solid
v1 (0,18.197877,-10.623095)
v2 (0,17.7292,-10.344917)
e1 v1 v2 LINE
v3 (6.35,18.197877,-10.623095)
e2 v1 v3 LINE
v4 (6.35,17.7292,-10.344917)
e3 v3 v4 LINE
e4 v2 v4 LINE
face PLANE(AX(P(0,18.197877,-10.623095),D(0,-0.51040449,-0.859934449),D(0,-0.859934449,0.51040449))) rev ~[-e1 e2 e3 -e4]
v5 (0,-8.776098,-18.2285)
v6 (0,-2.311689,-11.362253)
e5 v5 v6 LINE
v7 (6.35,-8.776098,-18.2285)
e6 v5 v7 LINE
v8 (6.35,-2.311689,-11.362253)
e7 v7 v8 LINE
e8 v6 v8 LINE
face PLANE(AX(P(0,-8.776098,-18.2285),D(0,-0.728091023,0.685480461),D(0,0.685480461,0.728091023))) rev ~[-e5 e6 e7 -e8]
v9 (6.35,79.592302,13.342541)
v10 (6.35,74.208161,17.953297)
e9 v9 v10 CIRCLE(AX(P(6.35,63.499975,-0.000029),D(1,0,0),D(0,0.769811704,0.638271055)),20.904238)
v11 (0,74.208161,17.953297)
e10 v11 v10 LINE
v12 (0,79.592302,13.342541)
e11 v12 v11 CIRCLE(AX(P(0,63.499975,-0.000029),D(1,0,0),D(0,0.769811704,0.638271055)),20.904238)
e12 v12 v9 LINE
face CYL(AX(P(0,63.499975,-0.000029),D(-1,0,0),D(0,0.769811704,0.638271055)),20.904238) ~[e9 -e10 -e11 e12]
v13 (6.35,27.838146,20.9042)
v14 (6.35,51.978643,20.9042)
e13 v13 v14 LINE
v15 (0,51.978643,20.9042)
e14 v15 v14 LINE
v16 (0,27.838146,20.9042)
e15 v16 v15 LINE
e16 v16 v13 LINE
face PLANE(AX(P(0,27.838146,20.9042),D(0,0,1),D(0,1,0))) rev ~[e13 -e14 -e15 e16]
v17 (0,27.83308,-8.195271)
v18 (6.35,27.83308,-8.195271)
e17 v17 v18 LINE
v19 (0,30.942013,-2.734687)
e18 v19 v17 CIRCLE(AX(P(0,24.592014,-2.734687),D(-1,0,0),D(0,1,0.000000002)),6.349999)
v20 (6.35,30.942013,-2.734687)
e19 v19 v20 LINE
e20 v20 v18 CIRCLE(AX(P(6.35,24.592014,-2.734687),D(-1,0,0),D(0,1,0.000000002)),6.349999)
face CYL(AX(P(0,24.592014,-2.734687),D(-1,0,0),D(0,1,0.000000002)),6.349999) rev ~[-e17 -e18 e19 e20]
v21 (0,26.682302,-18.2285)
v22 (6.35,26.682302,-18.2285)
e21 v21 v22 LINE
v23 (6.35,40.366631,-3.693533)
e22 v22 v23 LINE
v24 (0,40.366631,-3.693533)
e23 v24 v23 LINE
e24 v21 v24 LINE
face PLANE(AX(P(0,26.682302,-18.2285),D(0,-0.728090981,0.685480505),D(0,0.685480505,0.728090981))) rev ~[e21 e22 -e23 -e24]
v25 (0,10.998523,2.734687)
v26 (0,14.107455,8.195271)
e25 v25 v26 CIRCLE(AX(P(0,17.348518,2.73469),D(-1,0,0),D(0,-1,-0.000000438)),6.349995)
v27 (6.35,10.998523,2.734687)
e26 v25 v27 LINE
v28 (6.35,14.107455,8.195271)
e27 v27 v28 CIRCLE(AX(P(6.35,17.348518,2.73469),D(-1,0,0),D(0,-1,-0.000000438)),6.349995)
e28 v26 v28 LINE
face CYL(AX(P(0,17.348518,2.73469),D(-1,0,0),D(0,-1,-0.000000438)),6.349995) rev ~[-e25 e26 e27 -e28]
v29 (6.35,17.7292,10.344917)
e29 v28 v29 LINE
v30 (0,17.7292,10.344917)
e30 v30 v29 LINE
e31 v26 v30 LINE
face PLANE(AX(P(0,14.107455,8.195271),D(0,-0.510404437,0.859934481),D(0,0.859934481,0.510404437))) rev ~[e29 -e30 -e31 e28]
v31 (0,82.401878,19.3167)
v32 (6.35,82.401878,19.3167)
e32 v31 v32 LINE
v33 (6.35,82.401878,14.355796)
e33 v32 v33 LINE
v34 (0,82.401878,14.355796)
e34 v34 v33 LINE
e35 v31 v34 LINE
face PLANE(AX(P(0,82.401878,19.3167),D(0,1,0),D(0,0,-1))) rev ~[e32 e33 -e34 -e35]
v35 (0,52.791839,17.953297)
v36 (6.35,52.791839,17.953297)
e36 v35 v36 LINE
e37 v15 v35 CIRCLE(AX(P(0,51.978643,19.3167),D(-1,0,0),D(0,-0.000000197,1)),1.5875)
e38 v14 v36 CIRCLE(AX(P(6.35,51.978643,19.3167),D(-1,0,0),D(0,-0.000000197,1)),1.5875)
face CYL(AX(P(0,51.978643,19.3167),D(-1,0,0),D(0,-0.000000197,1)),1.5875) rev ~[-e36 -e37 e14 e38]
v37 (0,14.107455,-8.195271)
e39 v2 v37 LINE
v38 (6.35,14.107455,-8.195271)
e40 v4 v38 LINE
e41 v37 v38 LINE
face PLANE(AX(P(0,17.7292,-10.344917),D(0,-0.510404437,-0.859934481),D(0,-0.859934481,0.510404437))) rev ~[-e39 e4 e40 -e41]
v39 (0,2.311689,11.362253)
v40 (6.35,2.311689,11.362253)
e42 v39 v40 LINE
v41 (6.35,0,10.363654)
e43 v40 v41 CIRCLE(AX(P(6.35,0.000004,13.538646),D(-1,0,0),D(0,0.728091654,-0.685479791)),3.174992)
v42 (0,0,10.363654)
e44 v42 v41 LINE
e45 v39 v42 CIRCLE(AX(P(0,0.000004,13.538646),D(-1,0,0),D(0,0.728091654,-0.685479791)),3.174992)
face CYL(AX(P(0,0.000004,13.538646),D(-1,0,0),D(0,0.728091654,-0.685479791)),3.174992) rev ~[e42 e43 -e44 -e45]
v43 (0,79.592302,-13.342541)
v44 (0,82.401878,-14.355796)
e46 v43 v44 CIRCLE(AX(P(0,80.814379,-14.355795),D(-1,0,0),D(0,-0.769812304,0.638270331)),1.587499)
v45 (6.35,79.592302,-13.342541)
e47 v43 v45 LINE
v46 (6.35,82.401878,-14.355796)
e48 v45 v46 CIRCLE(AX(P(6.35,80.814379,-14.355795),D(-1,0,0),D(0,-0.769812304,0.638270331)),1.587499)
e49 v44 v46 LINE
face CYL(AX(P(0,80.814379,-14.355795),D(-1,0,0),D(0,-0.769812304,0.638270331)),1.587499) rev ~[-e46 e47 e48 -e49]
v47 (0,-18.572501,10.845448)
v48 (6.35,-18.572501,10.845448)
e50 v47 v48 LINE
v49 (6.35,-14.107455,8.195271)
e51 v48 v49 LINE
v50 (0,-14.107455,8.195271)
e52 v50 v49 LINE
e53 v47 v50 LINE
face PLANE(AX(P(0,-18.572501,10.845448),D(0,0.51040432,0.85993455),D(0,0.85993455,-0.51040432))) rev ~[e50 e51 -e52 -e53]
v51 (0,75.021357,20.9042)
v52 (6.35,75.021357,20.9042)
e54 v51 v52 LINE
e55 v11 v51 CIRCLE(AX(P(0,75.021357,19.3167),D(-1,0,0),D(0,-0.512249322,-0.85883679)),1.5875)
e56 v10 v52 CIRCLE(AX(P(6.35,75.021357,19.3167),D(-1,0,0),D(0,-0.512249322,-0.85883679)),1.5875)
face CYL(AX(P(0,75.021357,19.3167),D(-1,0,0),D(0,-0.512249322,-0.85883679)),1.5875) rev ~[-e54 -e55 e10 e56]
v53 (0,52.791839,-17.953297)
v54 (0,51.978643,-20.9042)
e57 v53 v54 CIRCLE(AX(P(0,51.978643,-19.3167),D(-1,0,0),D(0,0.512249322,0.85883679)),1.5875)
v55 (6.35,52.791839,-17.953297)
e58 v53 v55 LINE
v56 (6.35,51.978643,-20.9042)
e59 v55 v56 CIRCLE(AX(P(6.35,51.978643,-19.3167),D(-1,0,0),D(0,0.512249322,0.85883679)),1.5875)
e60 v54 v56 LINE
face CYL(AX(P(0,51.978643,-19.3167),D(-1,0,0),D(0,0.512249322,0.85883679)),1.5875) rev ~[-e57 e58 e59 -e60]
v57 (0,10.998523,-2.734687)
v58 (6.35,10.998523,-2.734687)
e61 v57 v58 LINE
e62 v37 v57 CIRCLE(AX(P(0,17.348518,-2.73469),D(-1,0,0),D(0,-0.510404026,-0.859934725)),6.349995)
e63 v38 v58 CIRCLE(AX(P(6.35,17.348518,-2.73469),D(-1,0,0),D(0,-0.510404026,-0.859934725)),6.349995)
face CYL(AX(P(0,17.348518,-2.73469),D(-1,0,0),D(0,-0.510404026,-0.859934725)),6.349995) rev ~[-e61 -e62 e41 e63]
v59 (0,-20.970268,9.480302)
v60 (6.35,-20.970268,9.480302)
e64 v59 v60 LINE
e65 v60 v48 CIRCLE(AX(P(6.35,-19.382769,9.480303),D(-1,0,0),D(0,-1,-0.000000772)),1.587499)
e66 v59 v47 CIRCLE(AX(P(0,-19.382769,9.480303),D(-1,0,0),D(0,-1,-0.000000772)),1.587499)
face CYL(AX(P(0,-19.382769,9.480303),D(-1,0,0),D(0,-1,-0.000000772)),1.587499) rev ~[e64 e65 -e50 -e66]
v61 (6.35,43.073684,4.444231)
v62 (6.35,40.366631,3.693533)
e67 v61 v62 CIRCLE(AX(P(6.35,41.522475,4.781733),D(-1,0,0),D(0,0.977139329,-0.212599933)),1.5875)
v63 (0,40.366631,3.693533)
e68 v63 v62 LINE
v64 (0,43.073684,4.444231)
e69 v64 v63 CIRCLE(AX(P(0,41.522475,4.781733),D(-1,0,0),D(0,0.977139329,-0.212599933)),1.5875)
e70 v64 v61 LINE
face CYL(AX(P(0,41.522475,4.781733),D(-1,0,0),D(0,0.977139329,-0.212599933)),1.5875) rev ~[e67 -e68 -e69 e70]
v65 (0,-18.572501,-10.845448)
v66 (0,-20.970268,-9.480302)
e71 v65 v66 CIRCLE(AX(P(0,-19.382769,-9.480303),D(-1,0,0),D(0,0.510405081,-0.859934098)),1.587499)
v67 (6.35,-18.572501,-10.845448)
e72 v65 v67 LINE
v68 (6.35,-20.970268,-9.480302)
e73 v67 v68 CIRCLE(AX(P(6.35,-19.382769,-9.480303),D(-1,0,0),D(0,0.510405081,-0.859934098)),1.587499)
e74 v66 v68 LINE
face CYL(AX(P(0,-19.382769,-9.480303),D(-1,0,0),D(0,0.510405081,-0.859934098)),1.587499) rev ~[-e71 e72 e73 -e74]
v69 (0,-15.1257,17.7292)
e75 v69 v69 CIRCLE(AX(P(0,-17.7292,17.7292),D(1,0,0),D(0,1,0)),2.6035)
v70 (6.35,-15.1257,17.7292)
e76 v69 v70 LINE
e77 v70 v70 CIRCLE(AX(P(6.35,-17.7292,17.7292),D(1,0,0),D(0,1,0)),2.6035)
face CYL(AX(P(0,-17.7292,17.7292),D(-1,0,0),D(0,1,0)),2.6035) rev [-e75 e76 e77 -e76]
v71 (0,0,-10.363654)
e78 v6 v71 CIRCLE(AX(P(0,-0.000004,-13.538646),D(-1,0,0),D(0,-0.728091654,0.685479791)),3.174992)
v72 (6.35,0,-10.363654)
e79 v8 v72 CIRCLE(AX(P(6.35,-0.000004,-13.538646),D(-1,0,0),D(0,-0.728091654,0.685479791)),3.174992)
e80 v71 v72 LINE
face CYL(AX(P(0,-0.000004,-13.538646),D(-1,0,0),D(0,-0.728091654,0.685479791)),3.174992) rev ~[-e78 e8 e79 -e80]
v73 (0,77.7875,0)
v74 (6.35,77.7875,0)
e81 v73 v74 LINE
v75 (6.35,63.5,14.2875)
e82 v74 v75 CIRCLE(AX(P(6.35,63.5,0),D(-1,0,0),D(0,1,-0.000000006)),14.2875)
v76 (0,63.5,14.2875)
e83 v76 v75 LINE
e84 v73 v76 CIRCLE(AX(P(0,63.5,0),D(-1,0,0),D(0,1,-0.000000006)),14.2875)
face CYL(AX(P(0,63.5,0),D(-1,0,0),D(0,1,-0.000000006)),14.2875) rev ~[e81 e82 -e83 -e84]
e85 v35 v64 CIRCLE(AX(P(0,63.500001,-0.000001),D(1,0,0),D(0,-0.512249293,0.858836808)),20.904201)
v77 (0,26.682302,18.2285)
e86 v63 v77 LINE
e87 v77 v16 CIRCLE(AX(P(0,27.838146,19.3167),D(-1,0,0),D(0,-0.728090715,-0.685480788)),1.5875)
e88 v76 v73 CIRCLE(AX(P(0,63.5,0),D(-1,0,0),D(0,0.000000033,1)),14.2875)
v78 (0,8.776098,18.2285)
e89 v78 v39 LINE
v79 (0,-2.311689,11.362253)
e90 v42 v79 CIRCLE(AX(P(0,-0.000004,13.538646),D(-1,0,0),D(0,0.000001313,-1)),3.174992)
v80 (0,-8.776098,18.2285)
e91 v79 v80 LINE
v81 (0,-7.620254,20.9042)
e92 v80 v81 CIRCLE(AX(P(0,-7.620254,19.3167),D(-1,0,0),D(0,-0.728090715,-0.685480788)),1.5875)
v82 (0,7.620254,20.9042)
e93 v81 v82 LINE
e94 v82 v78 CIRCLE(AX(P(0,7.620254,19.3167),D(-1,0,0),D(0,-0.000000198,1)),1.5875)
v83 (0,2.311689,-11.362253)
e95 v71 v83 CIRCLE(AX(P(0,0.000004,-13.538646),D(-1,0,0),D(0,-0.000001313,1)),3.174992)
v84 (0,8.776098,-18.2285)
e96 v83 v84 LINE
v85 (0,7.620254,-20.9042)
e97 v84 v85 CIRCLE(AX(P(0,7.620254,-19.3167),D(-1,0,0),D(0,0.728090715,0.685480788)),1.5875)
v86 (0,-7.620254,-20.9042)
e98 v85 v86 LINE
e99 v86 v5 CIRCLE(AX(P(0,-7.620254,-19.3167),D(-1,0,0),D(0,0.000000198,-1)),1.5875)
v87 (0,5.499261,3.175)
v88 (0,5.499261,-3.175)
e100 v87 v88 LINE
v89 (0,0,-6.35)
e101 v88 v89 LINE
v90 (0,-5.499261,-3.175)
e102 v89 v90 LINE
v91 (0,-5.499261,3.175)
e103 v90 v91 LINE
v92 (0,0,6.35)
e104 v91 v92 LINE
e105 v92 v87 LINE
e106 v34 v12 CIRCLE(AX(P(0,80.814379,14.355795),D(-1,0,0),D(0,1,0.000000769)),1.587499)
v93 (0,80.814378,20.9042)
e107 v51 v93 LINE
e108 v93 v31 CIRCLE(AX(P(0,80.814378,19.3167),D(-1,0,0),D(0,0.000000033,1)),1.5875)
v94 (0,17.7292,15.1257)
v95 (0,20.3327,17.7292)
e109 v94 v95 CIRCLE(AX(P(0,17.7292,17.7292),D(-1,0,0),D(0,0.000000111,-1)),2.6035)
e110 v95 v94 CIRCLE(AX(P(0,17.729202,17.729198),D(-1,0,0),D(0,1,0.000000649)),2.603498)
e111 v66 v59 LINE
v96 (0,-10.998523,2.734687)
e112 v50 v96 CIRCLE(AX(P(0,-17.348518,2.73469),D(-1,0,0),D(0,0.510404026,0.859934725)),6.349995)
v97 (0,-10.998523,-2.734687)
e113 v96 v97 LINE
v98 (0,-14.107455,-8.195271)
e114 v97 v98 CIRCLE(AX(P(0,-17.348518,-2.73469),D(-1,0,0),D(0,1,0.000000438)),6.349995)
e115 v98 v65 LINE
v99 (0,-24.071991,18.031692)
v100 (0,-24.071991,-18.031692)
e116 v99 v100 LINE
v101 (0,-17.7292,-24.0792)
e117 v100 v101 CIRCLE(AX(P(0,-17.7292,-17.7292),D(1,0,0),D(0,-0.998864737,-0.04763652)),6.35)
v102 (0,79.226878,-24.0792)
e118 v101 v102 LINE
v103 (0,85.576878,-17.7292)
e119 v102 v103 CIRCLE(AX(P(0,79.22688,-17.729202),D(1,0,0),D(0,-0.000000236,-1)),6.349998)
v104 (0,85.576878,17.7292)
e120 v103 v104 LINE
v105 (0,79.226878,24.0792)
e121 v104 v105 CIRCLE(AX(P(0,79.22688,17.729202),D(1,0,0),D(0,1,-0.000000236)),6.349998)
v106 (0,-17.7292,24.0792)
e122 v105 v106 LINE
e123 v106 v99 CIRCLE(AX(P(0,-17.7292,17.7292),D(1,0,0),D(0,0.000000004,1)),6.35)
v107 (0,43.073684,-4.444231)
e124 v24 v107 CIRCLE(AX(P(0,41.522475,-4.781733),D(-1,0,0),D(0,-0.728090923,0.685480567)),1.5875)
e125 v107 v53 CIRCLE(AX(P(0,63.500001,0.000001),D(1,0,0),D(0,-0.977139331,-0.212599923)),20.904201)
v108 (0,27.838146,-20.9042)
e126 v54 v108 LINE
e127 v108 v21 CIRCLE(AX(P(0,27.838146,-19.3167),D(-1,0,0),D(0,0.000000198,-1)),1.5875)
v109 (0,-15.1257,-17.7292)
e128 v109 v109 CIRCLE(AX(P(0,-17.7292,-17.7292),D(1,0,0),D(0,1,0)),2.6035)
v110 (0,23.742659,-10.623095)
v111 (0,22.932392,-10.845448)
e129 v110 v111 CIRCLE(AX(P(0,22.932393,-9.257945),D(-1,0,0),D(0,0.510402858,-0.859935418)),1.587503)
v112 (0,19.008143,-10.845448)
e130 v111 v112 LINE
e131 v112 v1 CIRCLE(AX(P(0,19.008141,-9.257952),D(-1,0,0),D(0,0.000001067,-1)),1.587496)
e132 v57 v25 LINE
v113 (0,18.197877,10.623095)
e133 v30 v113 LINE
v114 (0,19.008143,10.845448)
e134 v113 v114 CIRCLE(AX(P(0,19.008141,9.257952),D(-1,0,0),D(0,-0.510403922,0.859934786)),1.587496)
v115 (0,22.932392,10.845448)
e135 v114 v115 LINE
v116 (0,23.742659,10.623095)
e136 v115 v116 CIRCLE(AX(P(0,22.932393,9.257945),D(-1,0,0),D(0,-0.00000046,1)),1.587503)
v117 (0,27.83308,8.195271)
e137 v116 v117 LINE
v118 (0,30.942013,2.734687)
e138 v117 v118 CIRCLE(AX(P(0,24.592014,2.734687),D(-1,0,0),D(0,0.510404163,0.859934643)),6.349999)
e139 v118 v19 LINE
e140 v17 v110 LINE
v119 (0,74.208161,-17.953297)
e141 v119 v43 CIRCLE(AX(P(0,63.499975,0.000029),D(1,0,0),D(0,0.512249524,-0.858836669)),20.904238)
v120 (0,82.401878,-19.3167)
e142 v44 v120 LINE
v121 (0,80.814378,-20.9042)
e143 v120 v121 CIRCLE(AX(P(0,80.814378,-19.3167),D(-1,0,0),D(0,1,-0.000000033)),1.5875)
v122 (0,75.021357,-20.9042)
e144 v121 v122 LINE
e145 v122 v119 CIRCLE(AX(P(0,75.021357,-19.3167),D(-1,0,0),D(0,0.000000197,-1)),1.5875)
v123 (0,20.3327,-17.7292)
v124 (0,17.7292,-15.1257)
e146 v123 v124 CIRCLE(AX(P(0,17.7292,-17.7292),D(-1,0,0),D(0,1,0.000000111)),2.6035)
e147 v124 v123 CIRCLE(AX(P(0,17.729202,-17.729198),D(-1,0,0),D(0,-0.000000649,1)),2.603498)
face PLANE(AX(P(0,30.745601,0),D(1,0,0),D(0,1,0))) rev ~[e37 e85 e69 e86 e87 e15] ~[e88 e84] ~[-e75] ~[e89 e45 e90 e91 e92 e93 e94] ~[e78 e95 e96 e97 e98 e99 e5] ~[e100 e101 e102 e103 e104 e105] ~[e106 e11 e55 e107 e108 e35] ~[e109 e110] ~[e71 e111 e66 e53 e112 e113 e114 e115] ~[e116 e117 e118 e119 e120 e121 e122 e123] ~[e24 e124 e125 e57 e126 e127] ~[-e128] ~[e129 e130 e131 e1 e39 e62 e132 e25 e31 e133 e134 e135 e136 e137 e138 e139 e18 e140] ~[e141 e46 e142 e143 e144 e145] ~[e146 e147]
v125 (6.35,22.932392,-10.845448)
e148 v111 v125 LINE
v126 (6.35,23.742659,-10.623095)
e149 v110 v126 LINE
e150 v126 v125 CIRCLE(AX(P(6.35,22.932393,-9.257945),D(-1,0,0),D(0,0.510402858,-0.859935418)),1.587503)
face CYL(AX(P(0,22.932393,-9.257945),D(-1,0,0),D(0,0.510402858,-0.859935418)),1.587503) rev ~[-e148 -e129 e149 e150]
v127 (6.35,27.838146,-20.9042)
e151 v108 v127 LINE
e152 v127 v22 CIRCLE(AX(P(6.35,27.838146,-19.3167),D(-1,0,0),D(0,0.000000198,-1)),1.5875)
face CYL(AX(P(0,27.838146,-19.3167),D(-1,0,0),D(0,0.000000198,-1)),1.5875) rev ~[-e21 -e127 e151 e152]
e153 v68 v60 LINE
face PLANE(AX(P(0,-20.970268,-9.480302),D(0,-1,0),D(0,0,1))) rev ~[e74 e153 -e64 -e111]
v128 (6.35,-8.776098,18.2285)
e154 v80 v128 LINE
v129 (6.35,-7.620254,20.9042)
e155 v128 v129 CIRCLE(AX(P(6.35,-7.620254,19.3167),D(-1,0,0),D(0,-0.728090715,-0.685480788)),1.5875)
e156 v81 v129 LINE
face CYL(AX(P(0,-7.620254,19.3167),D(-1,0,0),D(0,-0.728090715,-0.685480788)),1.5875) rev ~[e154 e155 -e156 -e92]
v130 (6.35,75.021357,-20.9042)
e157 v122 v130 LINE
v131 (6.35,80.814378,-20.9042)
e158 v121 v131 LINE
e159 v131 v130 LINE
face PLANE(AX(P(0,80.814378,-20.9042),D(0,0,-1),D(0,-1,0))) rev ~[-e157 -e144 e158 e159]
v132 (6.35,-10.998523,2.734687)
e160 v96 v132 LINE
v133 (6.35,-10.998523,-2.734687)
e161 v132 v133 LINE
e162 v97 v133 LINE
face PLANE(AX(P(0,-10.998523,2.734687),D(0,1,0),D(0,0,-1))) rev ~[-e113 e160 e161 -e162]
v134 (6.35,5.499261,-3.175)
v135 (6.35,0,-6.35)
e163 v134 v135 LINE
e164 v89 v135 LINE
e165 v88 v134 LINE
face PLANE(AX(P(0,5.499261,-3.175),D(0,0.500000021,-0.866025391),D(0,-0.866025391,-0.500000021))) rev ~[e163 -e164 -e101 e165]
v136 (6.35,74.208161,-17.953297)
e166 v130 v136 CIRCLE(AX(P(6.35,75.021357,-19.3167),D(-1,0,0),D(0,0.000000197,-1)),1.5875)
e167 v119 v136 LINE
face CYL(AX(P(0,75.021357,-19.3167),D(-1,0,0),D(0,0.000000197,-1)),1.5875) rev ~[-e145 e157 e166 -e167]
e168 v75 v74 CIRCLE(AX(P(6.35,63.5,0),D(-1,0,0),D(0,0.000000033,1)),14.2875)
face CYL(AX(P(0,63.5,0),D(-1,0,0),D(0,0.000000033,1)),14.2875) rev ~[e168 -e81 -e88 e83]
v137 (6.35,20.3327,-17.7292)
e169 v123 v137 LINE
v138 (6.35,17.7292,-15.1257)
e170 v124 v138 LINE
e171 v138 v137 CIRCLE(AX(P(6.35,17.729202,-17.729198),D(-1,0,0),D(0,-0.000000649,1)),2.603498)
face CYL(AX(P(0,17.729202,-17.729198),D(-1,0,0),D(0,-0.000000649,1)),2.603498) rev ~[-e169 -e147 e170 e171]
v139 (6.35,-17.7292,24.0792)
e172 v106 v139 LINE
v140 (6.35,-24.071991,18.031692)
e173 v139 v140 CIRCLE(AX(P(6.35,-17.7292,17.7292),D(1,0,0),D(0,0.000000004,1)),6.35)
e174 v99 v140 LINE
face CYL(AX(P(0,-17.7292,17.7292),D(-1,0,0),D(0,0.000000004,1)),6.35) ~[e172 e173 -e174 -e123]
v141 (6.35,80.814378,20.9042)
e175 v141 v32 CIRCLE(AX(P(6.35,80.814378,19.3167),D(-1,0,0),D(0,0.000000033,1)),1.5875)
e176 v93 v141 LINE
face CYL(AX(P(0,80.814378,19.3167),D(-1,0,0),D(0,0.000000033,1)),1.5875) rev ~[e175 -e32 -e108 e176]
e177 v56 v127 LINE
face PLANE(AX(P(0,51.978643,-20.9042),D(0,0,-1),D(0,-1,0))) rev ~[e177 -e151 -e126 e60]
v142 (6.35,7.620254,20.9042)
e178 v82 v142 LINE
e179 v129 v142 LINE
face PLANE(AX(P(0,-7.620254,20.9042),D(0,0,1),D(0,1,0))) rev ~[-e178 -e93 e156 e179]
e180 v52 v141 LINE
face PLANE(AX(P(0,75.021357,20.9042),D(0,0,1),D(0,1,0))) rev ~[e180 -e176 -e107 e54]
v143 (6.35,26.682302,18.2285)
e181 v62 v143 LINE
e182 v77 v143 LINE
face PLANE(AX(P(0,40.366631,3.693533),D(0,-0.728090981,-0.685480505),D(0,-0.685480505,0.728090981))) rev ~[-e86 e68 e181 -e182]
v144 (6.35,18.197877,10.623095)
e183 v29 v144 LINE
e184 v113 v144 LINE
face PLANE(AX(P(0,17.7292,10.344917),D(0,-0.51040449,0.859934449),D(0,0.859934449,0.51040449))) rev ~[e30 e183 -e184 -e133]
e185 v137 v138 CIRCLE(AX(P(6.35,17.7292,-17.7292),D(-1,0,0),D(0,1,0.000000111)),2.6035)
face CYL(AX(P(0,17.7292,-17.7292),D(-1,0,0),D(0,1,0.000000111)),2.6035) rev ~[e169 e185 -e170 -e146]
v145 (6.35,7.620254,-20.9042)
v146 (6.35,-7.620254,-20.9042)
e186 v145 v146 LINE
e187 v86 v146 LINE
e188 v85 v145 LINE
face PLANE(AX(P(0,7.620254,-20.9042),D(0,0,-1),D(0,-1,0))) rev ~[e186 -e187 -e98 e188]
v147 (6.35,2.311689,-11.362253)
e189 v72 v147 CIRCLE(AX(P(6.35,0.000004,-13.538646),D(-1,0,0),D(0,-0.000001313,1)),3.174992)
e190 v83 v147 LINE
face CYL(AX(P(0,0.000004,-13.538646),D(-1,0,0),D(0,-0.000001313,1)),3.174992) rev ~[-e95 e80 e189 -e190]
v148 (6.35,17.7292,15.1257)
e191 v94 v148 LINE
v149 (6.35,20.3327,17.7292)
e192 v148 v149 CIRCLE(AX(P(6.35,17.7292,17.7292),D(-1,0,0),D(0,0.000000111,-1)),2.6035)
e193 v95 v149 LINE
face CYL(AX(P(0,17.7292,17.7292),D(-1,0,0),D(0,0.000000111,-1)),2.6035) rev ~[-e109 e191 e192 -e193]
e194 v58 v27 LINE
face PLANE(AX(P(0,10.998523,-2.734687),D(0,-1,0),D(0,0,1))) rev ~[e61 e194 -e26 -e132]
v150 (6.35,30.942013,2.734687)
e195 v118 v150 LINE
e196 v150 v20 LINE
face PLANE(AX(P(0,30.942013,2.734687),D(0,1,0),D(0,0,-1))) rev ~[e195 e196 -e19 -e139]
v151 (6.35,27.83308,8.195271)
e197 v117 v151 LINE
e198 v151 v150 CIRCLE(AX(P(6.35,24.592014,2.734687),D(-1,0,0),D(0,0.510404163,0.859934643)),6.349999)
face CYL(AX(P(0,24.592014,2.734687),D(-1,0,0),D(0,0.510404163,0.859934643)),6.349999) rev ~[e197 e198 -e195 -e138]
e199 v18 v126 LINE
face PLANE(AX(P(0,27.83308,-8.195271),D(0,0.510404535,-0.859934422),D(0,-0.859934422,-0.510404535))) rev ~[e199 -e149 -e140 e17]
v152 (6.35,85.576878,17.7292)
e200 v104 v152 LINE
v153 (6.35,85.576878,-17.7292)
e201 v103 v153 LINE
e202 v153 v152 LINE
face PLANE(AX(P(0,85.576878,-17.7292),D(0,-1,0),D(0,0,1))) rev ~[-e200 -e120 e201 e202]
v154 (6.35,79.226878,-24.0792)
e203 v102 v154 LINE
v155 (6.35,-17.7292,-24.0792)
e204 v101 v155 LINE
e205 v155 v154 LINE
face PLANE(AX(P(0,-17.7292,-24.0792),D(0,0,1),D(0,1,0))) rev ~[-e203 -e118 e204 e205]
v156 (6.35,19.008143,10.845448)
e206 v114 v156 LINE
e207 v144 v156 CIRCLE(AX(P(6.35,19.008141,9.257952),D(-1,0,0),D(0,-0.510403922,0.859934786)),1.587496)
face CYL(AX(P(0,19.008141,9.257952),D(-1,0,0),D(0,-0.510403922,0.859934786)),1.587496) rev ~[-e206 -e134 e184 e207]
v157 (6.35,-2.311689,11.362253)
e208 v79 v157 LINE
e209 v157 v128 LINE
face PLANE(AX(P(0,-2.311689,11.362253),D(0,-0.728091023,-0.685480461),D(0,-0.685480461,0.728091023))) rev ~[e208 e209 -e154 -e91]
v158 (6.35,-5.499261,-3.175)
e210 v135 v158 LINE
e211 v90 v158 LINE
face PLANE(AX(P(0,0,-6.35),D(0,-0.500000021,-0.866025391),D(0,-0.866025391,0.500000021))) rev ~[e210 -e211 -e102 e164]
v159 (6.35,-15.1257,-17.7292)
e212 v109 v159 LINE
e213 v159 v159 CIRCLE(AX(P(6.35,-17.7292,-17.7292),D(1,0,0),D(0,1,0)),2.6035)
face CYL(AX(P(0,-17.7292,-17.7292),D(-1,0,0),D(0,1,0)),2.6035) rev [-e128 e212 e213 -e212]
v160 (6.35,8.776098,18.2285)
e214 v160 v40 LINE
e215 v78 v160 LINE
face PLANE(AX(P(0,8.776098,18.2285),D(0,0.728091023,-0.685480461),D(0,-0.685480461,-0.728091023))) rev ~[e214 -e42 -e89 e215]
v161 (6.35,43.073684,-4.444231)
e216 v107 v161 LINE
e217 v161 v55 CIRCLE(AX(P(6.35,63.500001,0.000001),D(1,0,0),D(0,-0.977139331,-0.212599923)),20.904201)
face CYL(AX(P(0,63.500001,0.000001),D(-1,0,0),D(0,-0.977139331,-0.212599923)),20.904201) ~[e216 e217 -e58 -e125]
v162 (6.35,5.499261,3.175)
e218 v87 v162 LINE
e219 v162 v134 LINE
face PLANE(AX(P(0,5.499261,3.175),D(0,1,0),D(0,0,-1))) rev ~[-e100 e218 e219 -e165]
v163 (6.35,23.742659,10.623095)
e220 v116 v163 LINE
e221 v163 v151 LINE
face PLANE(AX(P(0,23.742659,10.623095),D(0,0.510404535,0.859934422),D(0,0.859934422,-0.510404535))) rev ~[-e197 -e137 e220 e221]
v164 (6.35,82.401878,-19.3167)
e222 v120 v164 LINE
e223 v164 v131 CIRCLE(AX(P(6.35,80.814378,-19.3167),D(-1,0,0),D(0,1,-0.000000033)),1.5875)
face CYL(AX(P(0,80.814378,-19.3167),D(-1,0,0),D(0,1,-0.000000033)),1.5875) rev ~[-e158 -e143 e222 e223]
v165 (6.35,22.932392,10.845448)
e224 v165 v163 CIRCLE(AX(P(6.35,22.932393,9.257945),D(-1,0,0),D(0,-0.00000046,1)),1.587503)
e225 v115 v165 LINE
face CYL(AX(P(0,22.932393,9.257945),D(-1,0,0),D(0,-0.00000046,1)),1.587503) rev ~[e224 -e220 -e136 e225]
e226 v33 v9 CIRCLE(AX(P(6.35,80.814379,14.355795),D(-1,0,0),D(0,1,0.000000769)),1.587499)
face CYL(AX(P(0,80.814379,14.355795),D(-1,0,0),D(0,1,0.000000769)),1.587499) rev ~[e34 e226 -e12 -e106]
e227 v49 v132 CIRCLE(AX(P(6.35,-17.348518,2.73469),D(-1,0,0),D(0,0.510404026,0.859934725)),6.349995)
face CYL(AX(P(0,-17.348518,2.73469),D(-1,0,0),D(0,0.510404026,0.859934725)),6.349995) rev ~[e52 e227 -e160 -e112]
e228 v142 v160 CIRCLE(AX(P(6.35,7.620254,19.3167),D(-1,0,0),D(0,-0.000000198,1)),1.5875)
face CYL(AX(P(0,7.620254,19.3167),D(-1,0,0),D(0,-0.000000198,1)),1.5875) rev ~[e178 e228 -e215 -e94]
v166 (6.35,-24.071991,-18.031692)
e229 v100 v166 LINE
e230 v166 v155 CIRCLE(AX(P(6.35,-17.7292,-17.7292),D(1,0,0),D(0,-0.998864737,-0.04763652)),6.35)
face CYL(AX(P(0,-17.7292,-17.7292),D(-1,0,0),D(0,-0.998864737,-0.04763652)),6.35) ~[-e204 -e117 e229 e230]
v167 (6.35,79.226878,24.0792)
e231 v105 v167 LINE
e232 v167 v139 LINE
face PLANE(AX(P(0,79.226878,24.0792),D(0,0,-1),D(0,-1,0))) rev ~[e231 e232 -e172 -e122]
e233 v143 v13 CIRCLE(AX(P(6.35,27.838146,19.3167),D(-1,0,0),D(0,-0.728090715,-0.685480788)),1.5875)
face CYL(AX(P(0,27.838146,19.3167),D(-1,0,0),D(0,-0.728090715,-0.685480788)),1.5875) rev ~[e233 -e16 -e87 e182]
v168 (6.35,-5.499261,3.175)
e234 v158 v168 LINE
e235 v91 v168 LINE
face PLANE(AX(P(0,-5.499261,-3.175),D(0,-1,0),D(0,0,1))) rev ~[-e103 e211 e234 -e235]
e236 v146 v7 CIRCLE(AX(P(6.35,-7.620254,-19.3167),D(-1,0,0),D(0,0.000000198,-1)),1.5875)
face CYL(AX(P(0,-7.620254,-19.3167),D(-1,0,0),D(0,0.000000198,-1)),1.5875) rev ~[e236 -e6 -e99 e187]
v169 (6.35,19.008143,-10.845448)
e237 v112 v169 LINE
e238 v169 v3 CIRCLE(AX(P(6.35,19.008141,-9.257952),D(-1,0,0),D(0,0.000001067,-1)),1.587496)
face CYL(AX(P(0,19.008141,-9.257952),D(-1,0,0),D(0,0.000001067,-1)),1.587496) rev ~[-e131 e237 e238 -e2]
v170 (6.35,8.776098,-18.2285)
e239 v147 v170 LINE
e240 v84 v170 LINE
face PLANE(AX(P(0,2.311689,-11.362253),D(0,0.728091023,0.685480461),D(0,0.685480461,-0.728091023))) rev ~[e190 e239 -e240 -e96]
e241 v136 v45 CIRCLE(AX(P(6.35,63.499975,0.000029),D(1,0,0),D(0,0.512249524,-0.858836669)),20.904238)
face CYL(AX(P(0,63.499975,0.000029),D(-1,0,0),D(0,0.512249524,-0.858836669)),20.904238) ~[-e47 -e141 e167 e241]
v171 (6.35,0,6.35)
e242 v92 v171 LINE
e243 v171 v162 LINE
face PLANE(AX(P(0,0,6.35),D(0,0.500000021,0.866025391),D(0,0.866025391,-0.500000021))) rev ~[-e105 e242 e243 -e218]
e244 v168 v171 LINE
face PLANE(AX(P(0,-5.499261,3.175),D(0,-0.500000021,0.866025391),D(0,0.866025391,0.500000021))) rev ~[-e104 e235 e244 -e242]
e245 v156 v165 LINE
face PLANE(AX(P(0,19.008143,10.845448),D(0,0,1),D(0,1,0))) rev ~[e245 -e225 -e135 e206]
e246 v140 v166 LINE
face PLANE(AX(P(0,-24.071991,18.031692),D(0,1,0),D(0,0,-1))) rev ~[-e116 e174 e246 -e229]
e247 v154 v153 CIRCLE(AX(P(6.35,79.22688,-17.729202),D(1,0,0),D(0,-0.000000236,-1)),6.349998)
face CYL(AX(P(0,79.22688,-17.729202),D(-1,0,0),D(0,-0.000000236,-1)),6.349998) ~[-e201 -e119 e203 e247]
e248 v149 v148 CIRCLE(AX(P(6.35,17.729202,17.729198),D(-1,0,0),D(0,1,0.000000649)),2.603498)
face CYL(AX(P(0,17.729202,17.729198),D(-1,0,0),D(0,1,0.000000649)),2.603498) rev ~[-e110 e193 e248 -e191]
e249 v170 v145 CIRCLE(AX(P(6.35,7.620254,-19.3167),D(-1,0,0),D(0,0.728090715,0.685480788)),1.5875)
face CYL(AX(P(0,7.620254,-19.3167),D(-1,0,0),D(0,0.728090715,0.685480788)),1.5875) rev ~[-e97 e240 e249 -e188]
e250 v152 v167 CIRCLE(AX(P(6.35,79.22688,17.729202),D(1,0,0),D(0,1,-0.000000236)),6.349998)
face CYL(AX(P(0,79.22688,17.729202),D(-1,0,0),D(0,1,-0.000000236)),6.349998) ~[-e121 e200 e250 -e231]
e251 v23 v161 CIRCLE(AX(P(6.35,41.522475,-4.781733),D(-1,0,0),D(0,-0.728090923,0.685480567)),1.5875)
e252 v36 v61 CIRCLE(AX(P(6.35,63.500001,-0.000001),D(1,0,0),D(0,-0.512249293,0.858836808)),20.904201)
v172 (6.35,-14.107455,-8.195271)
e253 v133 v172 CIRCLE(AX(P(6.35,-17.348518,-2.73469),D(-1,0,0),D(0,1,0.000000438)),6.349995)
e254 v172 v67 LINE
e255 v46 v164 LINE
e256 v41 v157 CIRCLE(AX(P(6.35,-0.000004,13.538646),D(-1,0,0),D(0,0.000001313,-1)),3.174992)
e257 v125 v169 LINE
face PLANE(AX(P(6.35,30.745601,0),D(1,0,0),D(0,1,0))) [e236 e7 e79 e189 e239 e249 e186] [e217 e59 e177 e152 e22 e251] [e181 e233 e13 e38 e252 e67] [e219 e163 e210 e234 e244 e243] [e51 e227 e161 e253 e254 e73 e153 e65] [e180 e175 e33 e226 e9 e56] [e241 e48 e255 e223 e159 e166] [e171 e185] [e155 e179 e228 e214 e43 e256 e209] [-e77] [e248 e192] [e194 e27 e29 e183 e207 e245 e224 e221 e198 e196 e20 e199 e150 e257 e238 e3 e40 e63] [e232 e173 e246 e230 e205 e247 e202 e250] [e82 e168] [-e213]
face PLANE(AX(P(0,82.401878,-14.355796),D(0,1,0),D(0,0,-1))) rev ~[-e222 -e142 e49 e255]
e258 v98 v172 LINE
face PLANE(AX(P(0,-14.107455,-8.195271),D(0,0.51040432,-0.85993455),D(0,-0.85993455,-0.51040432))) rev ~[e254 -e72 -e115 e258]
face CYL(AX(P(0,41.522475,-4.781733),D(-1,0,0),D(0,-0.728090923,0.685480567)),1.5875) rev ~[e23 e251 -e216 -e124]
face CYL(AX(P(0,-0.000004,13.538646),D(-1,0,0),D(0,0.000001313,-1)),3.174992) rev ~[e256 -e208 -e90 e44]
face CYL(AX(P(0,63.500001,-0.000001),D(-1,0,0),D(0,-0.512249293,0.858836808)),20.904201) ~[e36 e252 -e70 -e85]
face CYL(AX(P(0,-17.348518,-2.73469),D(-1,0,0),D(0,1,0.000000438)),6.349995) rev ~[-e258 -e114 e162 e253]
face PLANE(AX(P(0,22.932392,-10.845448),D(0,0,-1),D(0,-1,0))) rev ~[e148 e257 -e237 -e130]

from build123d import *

# Parameters (mm, degrees)
F0_R     = 2.6035
F1_DEPTH = 6.35


with BuildPart() as f1:
    # F0 (on Right) → F1 (new body)
    with BuildSketch(Plane.YZ):
        with BuildLine():
            Line((-24.071991, 17.426708), (-24.071991, -17.426708))
            Line((-24.071991, -17.426708), (-24.071991, -18.031692))
            ThreePointArc((-24.071991, -18.031692), (-22.111076, -22.325031), (-17.7292, -24.0792))
            Line((-17.7292, -24.0792), (17.7292, -24.0792))
            Line((17.7292, -24.0792), (79.226878, -24.0792))
            ThreePointArc((79.226878, -24.0792), (83.717007, -22.219328), (85.576878, -17.7292))
            Line((85.576878, -17.7292), (85.576878, 17.7292))
            ThreePointArc((85.576878, 17.7292), (83.717007, 22.219328), (79.226878, 24.0792))
            Line((79.226878, 24.0792), (17.7292, 24.0792))
            Line((17.7292, 24.0792), (-17.7292, 24.0792))
            ThreePointArc((-17.7292, 24.0792), (-22.111076, 22.325031), (-24.071991, 18.031692))
            Line((-24.071991, 18.031692), (-24.071991, 17.426708))
        make_face()
        with Locations((-17.7292, -17.7292)):
            Circle(F0_R, mode=Mode.SUBTRACT)
        with BuildLine():
            ThreePointArc((0, -10.363654), (1.259078, -10.623975), (2.311689, -11.362253))
            Line((2.311689, -11.362253), (8.776098, -18.2285))
            ThreePointArc((8.776098, -18.2285), (9.077593, -19.946239), (7.620254, -20.9042))
            Line((7.620254, -20.9042), (0, -20.9042))
            Line((0, -20.9042), (-7.620254, -20.9042))
            ThreePointArc((-7.620254, -20.9042), (-9.077593, -19.946239), (-8.776098, -18.2285))
            Line((-8.776098, -18.2285), (-2.311689, -11.362253))
            ThreePointArc((-2.311689, -11.362253), (-1.259078, -10.623975), (0, -10.363654))
        make_face(mode=Mode.SUBTRACT)
        with BuildLine():
            ThreePointArc((20.3327, -17.7292), (15.888247, -19.570153), (17.7292, -15.1257))
            ThreePointArc((17.7292, -15.1257), (19.570153, -15.888247), (20.3327, -17.7292))
        make_face(mode=Mode.SUBTRACT)
        with BuildLine():
            Line((51.978643, -20.9042), (27.838146, -20.9042))
            ThreePointArc((27.838146, -20.9042), (26.380807, -19.946239), (26.682302, -18.2285))
            Line((26.682302, -18.2285), (40.366631, -3.693533))
            ThreePointArc((40.366631, -3.693533), (41.946698, -3.251965), (43.073684, -4.444231))
            ThreePointArc((43.073684, -4.444231), (46.530538, -12.207495), (52.791839, -17.953297))
            ThreePointArc((52.791839, -17.953297), (53.509094, -19.738454), (51.978643, -20.9042))
        make_face(mode=Mode.SUBTRACT)
        with BuildLine():
            ThreePointArc((75.021357, -20.9042), (73.490906, -19.738454), (74.208161, -17.953297))
            ThreePointArc((74.208161, -17.953297), (77.097094, -15.877802), (79.592302, -13.342541))
            ThreePointArc((79.592302, -13.342541), (81.352946, -12.862443), (82.401878, -14.355796))
            Line((82.401878, -14.355796), (82.401878, -19.3167))
            ThreePointArc((82.401878, -19.3167), (81.93691, -20.439232), (80.814378, -20.9042))
            Line((80.814378, -20.9042), (75.021357, -20.9042))
        make_face(mode=Mode.SUBTRACT)
        with BuildLine():
            Line((-10.998523, 2.734687), (-10.998523, -2.734687))
            ThreePointArc((-10.998523, -2.734687), (-11.830222, -5.87648), (-14.107455, -8.195271))
            Line((-14.107455, -8.195271), (-18.572501, -10.845448))
            ThreePointArc((-18.572501, -10.845448), (-20.168216, -10.859878), (-20.970268, -9.480302))
            Line((-20.970268, -9.480302), (-20.970268, 9.480302))
            ThreePointArc((-20.970268, 9.480302), (-20.168216, 10.859878), (-18.572501, 10.845448))
            Line((-18.572501, 10.845448), (-14.107455, 8.195271))
            ThreePointArc((-14.107455, 8.195271), (-11.830222, 5.87648), (-10.998523, 2.734687))
        make_face(mode=Mode.SUBTRACT)
        with Locations((-17.7292, 17.7292)):
            Circle(F0_R, mode=Mode.SUBTRACT)
        Polygon((-5.499261, 3.175), (0, 6.35), (5.499261, 3.175), (5.499261, -3.175), (0, -6.35), (-5.499261, -3.175), align=None, mode=Mode.SUBTRACT)
        with BuildLine():
            Line((14.107455, 8.195271), (17.7292, 10.344917))
            Line((17.7292, 10.344917), (18.197877, 10.623095))
            ThreePointArc((18.197877, 10.623095), (18.588032, 10.788851), (19.008143, 10.845448))
            Line((19.008143, 10.845448), (22.932392, 10.845448))
            ThreePointArc((22.932392, 10.845448), (23.352503, 10.788851), (23.742659, 10.623095))
            Line((23.742659, 10.623095), (27.83308, 8.195271))
            ThreePointArc((27.83308, 8.195271), (30.110313, 5.87648), (30.942013, 2.734687))
            Line((30.942013, 2.734687), (30.942013, -2.734687))
            ThreePointArc((30.942013, -2.734687), (30.110313, -5.87648), (27.83308, -8.195271))
            Line((27.83308, -8.195271), (23.742659, -10.623095))
            ThreePointArc((23.742659, -10.623095), (23.352503, -10.788851), (22.932392, -10.845448))
            Line((22.932392, -10.845448), (19.008143, -10.845448))
            ThreePointArc((19.008143, -10.845448), (18.588032, -10.788851), (18.197877, -10.623095))
            Line((18.197877, -10.623095), (17.7292, -10.344917))
            Line((17.7292, -10.344917), (14.107455, -8.195271))
            ThreePointArc((14.107455, -8.195271), (11.830222, -5.87648), (10.998523, -2.734687))
            Line((10.998523, -2.734687), (10.998523, 2.734687))
            ThreePointArc((10.998523, 2.734687), (11.830222, 5.87648), (14.107455, 8.195271))
        make_face(mode=Mode.SUBTRACT)
        with BuildLine():
            ThreePointArc((0, 10.363654), (-1.259078, 10.623975), (-2.311689, 11.362253))
            Line((-2.311689, 11.362253), (-8.776098, 18.2285))
            ThreePointArc((-8.776098, 18.2285), (-9.077593, 19.946239), (-7.620254, 20.9042))
            Line((-7.620254, 20.9042), (0, 20.9042))
            Line((0, 20.9042), (7.620254, 20.9042))
            ThreePointArc((7.620254, 20.9042), (9.077593, 19.946239), (8.776098, 18.2285))
            Line((8.776098, 18.2285), (2.311689, 11.362253))
            ThreePointArc((2.311689, 11.362253), (1.259078, 10.623975), (0, 10.363654))
        make_face(mode=Mode.SUBTRACT)
        with BuildLine():
            ThreePointArc((17.7292, 15.1257), (15.888247, 19.570153), (20.3327, 17.7292))
            ThreePointArc((20.3327, 17.7292), (19.570153, 15.888247), (17.7292, 15.1257))
        make_face(mode=Mode.SUBTRACT)
        with BuildLine():
            ThreePointArc((52.791839, 17.953297), (46.530538, 12.207495), (43.073684, 4.444231))
            ThreePointArc((43.073684, 4.444231), (41.946698, 3.251965), (40.366631, 3.693533))
            Line((40.366631, 3.693533), (26.682302, 18.2285))
            ThreePointArc((26.682302, 18.2285), (26.380807, 19.946239), (27.838146, 20.9042))
            Line((27.838146, 20.9042), (51.978643, 20.9042))
            ThreePointArc((51.978643, 20.9042), (53.509094, 19.738454), (52.791839, 17.953297))
        make_face(mode=Mode.SUBTRACT)
        with BuildLine():
            ThreePointArc((63.5, 14.2875), (73.602788, 10.102788), (77.7875, 0))
            ThreePointArc((77.7875, 0), (53.397212, -10.102788), (63.5, 14.2875))
        make_face(mode=Mode.SUBTRACT)
        with BuildLine():
            ThreePointArc((74.208161, 17.953297), (73.490906, 19.738454), (75.021357, 20.9042))
            Line((75.021357, 20.9042), (80.814378, 20.9042))
            ThreePointArc((80.814378, 20.9042), (81.93691, 20.439232), (82.401878, 19.3167))
            Line((82.401878, 19.3167), (82.401878, 14.355796))
            ThreePointArc((82.401878, 14.355796), (81.352946, 12.862443), (79.592302, 13.342541))
            ThreePointArc((79.592302, 13.342541), (77.097094, 15.877802), (74.208161, 17.953297))
        make_face(mode=Mode.SUBTRACT)
    extrude(amount=F1_DEPTH)


solid = f1.part
